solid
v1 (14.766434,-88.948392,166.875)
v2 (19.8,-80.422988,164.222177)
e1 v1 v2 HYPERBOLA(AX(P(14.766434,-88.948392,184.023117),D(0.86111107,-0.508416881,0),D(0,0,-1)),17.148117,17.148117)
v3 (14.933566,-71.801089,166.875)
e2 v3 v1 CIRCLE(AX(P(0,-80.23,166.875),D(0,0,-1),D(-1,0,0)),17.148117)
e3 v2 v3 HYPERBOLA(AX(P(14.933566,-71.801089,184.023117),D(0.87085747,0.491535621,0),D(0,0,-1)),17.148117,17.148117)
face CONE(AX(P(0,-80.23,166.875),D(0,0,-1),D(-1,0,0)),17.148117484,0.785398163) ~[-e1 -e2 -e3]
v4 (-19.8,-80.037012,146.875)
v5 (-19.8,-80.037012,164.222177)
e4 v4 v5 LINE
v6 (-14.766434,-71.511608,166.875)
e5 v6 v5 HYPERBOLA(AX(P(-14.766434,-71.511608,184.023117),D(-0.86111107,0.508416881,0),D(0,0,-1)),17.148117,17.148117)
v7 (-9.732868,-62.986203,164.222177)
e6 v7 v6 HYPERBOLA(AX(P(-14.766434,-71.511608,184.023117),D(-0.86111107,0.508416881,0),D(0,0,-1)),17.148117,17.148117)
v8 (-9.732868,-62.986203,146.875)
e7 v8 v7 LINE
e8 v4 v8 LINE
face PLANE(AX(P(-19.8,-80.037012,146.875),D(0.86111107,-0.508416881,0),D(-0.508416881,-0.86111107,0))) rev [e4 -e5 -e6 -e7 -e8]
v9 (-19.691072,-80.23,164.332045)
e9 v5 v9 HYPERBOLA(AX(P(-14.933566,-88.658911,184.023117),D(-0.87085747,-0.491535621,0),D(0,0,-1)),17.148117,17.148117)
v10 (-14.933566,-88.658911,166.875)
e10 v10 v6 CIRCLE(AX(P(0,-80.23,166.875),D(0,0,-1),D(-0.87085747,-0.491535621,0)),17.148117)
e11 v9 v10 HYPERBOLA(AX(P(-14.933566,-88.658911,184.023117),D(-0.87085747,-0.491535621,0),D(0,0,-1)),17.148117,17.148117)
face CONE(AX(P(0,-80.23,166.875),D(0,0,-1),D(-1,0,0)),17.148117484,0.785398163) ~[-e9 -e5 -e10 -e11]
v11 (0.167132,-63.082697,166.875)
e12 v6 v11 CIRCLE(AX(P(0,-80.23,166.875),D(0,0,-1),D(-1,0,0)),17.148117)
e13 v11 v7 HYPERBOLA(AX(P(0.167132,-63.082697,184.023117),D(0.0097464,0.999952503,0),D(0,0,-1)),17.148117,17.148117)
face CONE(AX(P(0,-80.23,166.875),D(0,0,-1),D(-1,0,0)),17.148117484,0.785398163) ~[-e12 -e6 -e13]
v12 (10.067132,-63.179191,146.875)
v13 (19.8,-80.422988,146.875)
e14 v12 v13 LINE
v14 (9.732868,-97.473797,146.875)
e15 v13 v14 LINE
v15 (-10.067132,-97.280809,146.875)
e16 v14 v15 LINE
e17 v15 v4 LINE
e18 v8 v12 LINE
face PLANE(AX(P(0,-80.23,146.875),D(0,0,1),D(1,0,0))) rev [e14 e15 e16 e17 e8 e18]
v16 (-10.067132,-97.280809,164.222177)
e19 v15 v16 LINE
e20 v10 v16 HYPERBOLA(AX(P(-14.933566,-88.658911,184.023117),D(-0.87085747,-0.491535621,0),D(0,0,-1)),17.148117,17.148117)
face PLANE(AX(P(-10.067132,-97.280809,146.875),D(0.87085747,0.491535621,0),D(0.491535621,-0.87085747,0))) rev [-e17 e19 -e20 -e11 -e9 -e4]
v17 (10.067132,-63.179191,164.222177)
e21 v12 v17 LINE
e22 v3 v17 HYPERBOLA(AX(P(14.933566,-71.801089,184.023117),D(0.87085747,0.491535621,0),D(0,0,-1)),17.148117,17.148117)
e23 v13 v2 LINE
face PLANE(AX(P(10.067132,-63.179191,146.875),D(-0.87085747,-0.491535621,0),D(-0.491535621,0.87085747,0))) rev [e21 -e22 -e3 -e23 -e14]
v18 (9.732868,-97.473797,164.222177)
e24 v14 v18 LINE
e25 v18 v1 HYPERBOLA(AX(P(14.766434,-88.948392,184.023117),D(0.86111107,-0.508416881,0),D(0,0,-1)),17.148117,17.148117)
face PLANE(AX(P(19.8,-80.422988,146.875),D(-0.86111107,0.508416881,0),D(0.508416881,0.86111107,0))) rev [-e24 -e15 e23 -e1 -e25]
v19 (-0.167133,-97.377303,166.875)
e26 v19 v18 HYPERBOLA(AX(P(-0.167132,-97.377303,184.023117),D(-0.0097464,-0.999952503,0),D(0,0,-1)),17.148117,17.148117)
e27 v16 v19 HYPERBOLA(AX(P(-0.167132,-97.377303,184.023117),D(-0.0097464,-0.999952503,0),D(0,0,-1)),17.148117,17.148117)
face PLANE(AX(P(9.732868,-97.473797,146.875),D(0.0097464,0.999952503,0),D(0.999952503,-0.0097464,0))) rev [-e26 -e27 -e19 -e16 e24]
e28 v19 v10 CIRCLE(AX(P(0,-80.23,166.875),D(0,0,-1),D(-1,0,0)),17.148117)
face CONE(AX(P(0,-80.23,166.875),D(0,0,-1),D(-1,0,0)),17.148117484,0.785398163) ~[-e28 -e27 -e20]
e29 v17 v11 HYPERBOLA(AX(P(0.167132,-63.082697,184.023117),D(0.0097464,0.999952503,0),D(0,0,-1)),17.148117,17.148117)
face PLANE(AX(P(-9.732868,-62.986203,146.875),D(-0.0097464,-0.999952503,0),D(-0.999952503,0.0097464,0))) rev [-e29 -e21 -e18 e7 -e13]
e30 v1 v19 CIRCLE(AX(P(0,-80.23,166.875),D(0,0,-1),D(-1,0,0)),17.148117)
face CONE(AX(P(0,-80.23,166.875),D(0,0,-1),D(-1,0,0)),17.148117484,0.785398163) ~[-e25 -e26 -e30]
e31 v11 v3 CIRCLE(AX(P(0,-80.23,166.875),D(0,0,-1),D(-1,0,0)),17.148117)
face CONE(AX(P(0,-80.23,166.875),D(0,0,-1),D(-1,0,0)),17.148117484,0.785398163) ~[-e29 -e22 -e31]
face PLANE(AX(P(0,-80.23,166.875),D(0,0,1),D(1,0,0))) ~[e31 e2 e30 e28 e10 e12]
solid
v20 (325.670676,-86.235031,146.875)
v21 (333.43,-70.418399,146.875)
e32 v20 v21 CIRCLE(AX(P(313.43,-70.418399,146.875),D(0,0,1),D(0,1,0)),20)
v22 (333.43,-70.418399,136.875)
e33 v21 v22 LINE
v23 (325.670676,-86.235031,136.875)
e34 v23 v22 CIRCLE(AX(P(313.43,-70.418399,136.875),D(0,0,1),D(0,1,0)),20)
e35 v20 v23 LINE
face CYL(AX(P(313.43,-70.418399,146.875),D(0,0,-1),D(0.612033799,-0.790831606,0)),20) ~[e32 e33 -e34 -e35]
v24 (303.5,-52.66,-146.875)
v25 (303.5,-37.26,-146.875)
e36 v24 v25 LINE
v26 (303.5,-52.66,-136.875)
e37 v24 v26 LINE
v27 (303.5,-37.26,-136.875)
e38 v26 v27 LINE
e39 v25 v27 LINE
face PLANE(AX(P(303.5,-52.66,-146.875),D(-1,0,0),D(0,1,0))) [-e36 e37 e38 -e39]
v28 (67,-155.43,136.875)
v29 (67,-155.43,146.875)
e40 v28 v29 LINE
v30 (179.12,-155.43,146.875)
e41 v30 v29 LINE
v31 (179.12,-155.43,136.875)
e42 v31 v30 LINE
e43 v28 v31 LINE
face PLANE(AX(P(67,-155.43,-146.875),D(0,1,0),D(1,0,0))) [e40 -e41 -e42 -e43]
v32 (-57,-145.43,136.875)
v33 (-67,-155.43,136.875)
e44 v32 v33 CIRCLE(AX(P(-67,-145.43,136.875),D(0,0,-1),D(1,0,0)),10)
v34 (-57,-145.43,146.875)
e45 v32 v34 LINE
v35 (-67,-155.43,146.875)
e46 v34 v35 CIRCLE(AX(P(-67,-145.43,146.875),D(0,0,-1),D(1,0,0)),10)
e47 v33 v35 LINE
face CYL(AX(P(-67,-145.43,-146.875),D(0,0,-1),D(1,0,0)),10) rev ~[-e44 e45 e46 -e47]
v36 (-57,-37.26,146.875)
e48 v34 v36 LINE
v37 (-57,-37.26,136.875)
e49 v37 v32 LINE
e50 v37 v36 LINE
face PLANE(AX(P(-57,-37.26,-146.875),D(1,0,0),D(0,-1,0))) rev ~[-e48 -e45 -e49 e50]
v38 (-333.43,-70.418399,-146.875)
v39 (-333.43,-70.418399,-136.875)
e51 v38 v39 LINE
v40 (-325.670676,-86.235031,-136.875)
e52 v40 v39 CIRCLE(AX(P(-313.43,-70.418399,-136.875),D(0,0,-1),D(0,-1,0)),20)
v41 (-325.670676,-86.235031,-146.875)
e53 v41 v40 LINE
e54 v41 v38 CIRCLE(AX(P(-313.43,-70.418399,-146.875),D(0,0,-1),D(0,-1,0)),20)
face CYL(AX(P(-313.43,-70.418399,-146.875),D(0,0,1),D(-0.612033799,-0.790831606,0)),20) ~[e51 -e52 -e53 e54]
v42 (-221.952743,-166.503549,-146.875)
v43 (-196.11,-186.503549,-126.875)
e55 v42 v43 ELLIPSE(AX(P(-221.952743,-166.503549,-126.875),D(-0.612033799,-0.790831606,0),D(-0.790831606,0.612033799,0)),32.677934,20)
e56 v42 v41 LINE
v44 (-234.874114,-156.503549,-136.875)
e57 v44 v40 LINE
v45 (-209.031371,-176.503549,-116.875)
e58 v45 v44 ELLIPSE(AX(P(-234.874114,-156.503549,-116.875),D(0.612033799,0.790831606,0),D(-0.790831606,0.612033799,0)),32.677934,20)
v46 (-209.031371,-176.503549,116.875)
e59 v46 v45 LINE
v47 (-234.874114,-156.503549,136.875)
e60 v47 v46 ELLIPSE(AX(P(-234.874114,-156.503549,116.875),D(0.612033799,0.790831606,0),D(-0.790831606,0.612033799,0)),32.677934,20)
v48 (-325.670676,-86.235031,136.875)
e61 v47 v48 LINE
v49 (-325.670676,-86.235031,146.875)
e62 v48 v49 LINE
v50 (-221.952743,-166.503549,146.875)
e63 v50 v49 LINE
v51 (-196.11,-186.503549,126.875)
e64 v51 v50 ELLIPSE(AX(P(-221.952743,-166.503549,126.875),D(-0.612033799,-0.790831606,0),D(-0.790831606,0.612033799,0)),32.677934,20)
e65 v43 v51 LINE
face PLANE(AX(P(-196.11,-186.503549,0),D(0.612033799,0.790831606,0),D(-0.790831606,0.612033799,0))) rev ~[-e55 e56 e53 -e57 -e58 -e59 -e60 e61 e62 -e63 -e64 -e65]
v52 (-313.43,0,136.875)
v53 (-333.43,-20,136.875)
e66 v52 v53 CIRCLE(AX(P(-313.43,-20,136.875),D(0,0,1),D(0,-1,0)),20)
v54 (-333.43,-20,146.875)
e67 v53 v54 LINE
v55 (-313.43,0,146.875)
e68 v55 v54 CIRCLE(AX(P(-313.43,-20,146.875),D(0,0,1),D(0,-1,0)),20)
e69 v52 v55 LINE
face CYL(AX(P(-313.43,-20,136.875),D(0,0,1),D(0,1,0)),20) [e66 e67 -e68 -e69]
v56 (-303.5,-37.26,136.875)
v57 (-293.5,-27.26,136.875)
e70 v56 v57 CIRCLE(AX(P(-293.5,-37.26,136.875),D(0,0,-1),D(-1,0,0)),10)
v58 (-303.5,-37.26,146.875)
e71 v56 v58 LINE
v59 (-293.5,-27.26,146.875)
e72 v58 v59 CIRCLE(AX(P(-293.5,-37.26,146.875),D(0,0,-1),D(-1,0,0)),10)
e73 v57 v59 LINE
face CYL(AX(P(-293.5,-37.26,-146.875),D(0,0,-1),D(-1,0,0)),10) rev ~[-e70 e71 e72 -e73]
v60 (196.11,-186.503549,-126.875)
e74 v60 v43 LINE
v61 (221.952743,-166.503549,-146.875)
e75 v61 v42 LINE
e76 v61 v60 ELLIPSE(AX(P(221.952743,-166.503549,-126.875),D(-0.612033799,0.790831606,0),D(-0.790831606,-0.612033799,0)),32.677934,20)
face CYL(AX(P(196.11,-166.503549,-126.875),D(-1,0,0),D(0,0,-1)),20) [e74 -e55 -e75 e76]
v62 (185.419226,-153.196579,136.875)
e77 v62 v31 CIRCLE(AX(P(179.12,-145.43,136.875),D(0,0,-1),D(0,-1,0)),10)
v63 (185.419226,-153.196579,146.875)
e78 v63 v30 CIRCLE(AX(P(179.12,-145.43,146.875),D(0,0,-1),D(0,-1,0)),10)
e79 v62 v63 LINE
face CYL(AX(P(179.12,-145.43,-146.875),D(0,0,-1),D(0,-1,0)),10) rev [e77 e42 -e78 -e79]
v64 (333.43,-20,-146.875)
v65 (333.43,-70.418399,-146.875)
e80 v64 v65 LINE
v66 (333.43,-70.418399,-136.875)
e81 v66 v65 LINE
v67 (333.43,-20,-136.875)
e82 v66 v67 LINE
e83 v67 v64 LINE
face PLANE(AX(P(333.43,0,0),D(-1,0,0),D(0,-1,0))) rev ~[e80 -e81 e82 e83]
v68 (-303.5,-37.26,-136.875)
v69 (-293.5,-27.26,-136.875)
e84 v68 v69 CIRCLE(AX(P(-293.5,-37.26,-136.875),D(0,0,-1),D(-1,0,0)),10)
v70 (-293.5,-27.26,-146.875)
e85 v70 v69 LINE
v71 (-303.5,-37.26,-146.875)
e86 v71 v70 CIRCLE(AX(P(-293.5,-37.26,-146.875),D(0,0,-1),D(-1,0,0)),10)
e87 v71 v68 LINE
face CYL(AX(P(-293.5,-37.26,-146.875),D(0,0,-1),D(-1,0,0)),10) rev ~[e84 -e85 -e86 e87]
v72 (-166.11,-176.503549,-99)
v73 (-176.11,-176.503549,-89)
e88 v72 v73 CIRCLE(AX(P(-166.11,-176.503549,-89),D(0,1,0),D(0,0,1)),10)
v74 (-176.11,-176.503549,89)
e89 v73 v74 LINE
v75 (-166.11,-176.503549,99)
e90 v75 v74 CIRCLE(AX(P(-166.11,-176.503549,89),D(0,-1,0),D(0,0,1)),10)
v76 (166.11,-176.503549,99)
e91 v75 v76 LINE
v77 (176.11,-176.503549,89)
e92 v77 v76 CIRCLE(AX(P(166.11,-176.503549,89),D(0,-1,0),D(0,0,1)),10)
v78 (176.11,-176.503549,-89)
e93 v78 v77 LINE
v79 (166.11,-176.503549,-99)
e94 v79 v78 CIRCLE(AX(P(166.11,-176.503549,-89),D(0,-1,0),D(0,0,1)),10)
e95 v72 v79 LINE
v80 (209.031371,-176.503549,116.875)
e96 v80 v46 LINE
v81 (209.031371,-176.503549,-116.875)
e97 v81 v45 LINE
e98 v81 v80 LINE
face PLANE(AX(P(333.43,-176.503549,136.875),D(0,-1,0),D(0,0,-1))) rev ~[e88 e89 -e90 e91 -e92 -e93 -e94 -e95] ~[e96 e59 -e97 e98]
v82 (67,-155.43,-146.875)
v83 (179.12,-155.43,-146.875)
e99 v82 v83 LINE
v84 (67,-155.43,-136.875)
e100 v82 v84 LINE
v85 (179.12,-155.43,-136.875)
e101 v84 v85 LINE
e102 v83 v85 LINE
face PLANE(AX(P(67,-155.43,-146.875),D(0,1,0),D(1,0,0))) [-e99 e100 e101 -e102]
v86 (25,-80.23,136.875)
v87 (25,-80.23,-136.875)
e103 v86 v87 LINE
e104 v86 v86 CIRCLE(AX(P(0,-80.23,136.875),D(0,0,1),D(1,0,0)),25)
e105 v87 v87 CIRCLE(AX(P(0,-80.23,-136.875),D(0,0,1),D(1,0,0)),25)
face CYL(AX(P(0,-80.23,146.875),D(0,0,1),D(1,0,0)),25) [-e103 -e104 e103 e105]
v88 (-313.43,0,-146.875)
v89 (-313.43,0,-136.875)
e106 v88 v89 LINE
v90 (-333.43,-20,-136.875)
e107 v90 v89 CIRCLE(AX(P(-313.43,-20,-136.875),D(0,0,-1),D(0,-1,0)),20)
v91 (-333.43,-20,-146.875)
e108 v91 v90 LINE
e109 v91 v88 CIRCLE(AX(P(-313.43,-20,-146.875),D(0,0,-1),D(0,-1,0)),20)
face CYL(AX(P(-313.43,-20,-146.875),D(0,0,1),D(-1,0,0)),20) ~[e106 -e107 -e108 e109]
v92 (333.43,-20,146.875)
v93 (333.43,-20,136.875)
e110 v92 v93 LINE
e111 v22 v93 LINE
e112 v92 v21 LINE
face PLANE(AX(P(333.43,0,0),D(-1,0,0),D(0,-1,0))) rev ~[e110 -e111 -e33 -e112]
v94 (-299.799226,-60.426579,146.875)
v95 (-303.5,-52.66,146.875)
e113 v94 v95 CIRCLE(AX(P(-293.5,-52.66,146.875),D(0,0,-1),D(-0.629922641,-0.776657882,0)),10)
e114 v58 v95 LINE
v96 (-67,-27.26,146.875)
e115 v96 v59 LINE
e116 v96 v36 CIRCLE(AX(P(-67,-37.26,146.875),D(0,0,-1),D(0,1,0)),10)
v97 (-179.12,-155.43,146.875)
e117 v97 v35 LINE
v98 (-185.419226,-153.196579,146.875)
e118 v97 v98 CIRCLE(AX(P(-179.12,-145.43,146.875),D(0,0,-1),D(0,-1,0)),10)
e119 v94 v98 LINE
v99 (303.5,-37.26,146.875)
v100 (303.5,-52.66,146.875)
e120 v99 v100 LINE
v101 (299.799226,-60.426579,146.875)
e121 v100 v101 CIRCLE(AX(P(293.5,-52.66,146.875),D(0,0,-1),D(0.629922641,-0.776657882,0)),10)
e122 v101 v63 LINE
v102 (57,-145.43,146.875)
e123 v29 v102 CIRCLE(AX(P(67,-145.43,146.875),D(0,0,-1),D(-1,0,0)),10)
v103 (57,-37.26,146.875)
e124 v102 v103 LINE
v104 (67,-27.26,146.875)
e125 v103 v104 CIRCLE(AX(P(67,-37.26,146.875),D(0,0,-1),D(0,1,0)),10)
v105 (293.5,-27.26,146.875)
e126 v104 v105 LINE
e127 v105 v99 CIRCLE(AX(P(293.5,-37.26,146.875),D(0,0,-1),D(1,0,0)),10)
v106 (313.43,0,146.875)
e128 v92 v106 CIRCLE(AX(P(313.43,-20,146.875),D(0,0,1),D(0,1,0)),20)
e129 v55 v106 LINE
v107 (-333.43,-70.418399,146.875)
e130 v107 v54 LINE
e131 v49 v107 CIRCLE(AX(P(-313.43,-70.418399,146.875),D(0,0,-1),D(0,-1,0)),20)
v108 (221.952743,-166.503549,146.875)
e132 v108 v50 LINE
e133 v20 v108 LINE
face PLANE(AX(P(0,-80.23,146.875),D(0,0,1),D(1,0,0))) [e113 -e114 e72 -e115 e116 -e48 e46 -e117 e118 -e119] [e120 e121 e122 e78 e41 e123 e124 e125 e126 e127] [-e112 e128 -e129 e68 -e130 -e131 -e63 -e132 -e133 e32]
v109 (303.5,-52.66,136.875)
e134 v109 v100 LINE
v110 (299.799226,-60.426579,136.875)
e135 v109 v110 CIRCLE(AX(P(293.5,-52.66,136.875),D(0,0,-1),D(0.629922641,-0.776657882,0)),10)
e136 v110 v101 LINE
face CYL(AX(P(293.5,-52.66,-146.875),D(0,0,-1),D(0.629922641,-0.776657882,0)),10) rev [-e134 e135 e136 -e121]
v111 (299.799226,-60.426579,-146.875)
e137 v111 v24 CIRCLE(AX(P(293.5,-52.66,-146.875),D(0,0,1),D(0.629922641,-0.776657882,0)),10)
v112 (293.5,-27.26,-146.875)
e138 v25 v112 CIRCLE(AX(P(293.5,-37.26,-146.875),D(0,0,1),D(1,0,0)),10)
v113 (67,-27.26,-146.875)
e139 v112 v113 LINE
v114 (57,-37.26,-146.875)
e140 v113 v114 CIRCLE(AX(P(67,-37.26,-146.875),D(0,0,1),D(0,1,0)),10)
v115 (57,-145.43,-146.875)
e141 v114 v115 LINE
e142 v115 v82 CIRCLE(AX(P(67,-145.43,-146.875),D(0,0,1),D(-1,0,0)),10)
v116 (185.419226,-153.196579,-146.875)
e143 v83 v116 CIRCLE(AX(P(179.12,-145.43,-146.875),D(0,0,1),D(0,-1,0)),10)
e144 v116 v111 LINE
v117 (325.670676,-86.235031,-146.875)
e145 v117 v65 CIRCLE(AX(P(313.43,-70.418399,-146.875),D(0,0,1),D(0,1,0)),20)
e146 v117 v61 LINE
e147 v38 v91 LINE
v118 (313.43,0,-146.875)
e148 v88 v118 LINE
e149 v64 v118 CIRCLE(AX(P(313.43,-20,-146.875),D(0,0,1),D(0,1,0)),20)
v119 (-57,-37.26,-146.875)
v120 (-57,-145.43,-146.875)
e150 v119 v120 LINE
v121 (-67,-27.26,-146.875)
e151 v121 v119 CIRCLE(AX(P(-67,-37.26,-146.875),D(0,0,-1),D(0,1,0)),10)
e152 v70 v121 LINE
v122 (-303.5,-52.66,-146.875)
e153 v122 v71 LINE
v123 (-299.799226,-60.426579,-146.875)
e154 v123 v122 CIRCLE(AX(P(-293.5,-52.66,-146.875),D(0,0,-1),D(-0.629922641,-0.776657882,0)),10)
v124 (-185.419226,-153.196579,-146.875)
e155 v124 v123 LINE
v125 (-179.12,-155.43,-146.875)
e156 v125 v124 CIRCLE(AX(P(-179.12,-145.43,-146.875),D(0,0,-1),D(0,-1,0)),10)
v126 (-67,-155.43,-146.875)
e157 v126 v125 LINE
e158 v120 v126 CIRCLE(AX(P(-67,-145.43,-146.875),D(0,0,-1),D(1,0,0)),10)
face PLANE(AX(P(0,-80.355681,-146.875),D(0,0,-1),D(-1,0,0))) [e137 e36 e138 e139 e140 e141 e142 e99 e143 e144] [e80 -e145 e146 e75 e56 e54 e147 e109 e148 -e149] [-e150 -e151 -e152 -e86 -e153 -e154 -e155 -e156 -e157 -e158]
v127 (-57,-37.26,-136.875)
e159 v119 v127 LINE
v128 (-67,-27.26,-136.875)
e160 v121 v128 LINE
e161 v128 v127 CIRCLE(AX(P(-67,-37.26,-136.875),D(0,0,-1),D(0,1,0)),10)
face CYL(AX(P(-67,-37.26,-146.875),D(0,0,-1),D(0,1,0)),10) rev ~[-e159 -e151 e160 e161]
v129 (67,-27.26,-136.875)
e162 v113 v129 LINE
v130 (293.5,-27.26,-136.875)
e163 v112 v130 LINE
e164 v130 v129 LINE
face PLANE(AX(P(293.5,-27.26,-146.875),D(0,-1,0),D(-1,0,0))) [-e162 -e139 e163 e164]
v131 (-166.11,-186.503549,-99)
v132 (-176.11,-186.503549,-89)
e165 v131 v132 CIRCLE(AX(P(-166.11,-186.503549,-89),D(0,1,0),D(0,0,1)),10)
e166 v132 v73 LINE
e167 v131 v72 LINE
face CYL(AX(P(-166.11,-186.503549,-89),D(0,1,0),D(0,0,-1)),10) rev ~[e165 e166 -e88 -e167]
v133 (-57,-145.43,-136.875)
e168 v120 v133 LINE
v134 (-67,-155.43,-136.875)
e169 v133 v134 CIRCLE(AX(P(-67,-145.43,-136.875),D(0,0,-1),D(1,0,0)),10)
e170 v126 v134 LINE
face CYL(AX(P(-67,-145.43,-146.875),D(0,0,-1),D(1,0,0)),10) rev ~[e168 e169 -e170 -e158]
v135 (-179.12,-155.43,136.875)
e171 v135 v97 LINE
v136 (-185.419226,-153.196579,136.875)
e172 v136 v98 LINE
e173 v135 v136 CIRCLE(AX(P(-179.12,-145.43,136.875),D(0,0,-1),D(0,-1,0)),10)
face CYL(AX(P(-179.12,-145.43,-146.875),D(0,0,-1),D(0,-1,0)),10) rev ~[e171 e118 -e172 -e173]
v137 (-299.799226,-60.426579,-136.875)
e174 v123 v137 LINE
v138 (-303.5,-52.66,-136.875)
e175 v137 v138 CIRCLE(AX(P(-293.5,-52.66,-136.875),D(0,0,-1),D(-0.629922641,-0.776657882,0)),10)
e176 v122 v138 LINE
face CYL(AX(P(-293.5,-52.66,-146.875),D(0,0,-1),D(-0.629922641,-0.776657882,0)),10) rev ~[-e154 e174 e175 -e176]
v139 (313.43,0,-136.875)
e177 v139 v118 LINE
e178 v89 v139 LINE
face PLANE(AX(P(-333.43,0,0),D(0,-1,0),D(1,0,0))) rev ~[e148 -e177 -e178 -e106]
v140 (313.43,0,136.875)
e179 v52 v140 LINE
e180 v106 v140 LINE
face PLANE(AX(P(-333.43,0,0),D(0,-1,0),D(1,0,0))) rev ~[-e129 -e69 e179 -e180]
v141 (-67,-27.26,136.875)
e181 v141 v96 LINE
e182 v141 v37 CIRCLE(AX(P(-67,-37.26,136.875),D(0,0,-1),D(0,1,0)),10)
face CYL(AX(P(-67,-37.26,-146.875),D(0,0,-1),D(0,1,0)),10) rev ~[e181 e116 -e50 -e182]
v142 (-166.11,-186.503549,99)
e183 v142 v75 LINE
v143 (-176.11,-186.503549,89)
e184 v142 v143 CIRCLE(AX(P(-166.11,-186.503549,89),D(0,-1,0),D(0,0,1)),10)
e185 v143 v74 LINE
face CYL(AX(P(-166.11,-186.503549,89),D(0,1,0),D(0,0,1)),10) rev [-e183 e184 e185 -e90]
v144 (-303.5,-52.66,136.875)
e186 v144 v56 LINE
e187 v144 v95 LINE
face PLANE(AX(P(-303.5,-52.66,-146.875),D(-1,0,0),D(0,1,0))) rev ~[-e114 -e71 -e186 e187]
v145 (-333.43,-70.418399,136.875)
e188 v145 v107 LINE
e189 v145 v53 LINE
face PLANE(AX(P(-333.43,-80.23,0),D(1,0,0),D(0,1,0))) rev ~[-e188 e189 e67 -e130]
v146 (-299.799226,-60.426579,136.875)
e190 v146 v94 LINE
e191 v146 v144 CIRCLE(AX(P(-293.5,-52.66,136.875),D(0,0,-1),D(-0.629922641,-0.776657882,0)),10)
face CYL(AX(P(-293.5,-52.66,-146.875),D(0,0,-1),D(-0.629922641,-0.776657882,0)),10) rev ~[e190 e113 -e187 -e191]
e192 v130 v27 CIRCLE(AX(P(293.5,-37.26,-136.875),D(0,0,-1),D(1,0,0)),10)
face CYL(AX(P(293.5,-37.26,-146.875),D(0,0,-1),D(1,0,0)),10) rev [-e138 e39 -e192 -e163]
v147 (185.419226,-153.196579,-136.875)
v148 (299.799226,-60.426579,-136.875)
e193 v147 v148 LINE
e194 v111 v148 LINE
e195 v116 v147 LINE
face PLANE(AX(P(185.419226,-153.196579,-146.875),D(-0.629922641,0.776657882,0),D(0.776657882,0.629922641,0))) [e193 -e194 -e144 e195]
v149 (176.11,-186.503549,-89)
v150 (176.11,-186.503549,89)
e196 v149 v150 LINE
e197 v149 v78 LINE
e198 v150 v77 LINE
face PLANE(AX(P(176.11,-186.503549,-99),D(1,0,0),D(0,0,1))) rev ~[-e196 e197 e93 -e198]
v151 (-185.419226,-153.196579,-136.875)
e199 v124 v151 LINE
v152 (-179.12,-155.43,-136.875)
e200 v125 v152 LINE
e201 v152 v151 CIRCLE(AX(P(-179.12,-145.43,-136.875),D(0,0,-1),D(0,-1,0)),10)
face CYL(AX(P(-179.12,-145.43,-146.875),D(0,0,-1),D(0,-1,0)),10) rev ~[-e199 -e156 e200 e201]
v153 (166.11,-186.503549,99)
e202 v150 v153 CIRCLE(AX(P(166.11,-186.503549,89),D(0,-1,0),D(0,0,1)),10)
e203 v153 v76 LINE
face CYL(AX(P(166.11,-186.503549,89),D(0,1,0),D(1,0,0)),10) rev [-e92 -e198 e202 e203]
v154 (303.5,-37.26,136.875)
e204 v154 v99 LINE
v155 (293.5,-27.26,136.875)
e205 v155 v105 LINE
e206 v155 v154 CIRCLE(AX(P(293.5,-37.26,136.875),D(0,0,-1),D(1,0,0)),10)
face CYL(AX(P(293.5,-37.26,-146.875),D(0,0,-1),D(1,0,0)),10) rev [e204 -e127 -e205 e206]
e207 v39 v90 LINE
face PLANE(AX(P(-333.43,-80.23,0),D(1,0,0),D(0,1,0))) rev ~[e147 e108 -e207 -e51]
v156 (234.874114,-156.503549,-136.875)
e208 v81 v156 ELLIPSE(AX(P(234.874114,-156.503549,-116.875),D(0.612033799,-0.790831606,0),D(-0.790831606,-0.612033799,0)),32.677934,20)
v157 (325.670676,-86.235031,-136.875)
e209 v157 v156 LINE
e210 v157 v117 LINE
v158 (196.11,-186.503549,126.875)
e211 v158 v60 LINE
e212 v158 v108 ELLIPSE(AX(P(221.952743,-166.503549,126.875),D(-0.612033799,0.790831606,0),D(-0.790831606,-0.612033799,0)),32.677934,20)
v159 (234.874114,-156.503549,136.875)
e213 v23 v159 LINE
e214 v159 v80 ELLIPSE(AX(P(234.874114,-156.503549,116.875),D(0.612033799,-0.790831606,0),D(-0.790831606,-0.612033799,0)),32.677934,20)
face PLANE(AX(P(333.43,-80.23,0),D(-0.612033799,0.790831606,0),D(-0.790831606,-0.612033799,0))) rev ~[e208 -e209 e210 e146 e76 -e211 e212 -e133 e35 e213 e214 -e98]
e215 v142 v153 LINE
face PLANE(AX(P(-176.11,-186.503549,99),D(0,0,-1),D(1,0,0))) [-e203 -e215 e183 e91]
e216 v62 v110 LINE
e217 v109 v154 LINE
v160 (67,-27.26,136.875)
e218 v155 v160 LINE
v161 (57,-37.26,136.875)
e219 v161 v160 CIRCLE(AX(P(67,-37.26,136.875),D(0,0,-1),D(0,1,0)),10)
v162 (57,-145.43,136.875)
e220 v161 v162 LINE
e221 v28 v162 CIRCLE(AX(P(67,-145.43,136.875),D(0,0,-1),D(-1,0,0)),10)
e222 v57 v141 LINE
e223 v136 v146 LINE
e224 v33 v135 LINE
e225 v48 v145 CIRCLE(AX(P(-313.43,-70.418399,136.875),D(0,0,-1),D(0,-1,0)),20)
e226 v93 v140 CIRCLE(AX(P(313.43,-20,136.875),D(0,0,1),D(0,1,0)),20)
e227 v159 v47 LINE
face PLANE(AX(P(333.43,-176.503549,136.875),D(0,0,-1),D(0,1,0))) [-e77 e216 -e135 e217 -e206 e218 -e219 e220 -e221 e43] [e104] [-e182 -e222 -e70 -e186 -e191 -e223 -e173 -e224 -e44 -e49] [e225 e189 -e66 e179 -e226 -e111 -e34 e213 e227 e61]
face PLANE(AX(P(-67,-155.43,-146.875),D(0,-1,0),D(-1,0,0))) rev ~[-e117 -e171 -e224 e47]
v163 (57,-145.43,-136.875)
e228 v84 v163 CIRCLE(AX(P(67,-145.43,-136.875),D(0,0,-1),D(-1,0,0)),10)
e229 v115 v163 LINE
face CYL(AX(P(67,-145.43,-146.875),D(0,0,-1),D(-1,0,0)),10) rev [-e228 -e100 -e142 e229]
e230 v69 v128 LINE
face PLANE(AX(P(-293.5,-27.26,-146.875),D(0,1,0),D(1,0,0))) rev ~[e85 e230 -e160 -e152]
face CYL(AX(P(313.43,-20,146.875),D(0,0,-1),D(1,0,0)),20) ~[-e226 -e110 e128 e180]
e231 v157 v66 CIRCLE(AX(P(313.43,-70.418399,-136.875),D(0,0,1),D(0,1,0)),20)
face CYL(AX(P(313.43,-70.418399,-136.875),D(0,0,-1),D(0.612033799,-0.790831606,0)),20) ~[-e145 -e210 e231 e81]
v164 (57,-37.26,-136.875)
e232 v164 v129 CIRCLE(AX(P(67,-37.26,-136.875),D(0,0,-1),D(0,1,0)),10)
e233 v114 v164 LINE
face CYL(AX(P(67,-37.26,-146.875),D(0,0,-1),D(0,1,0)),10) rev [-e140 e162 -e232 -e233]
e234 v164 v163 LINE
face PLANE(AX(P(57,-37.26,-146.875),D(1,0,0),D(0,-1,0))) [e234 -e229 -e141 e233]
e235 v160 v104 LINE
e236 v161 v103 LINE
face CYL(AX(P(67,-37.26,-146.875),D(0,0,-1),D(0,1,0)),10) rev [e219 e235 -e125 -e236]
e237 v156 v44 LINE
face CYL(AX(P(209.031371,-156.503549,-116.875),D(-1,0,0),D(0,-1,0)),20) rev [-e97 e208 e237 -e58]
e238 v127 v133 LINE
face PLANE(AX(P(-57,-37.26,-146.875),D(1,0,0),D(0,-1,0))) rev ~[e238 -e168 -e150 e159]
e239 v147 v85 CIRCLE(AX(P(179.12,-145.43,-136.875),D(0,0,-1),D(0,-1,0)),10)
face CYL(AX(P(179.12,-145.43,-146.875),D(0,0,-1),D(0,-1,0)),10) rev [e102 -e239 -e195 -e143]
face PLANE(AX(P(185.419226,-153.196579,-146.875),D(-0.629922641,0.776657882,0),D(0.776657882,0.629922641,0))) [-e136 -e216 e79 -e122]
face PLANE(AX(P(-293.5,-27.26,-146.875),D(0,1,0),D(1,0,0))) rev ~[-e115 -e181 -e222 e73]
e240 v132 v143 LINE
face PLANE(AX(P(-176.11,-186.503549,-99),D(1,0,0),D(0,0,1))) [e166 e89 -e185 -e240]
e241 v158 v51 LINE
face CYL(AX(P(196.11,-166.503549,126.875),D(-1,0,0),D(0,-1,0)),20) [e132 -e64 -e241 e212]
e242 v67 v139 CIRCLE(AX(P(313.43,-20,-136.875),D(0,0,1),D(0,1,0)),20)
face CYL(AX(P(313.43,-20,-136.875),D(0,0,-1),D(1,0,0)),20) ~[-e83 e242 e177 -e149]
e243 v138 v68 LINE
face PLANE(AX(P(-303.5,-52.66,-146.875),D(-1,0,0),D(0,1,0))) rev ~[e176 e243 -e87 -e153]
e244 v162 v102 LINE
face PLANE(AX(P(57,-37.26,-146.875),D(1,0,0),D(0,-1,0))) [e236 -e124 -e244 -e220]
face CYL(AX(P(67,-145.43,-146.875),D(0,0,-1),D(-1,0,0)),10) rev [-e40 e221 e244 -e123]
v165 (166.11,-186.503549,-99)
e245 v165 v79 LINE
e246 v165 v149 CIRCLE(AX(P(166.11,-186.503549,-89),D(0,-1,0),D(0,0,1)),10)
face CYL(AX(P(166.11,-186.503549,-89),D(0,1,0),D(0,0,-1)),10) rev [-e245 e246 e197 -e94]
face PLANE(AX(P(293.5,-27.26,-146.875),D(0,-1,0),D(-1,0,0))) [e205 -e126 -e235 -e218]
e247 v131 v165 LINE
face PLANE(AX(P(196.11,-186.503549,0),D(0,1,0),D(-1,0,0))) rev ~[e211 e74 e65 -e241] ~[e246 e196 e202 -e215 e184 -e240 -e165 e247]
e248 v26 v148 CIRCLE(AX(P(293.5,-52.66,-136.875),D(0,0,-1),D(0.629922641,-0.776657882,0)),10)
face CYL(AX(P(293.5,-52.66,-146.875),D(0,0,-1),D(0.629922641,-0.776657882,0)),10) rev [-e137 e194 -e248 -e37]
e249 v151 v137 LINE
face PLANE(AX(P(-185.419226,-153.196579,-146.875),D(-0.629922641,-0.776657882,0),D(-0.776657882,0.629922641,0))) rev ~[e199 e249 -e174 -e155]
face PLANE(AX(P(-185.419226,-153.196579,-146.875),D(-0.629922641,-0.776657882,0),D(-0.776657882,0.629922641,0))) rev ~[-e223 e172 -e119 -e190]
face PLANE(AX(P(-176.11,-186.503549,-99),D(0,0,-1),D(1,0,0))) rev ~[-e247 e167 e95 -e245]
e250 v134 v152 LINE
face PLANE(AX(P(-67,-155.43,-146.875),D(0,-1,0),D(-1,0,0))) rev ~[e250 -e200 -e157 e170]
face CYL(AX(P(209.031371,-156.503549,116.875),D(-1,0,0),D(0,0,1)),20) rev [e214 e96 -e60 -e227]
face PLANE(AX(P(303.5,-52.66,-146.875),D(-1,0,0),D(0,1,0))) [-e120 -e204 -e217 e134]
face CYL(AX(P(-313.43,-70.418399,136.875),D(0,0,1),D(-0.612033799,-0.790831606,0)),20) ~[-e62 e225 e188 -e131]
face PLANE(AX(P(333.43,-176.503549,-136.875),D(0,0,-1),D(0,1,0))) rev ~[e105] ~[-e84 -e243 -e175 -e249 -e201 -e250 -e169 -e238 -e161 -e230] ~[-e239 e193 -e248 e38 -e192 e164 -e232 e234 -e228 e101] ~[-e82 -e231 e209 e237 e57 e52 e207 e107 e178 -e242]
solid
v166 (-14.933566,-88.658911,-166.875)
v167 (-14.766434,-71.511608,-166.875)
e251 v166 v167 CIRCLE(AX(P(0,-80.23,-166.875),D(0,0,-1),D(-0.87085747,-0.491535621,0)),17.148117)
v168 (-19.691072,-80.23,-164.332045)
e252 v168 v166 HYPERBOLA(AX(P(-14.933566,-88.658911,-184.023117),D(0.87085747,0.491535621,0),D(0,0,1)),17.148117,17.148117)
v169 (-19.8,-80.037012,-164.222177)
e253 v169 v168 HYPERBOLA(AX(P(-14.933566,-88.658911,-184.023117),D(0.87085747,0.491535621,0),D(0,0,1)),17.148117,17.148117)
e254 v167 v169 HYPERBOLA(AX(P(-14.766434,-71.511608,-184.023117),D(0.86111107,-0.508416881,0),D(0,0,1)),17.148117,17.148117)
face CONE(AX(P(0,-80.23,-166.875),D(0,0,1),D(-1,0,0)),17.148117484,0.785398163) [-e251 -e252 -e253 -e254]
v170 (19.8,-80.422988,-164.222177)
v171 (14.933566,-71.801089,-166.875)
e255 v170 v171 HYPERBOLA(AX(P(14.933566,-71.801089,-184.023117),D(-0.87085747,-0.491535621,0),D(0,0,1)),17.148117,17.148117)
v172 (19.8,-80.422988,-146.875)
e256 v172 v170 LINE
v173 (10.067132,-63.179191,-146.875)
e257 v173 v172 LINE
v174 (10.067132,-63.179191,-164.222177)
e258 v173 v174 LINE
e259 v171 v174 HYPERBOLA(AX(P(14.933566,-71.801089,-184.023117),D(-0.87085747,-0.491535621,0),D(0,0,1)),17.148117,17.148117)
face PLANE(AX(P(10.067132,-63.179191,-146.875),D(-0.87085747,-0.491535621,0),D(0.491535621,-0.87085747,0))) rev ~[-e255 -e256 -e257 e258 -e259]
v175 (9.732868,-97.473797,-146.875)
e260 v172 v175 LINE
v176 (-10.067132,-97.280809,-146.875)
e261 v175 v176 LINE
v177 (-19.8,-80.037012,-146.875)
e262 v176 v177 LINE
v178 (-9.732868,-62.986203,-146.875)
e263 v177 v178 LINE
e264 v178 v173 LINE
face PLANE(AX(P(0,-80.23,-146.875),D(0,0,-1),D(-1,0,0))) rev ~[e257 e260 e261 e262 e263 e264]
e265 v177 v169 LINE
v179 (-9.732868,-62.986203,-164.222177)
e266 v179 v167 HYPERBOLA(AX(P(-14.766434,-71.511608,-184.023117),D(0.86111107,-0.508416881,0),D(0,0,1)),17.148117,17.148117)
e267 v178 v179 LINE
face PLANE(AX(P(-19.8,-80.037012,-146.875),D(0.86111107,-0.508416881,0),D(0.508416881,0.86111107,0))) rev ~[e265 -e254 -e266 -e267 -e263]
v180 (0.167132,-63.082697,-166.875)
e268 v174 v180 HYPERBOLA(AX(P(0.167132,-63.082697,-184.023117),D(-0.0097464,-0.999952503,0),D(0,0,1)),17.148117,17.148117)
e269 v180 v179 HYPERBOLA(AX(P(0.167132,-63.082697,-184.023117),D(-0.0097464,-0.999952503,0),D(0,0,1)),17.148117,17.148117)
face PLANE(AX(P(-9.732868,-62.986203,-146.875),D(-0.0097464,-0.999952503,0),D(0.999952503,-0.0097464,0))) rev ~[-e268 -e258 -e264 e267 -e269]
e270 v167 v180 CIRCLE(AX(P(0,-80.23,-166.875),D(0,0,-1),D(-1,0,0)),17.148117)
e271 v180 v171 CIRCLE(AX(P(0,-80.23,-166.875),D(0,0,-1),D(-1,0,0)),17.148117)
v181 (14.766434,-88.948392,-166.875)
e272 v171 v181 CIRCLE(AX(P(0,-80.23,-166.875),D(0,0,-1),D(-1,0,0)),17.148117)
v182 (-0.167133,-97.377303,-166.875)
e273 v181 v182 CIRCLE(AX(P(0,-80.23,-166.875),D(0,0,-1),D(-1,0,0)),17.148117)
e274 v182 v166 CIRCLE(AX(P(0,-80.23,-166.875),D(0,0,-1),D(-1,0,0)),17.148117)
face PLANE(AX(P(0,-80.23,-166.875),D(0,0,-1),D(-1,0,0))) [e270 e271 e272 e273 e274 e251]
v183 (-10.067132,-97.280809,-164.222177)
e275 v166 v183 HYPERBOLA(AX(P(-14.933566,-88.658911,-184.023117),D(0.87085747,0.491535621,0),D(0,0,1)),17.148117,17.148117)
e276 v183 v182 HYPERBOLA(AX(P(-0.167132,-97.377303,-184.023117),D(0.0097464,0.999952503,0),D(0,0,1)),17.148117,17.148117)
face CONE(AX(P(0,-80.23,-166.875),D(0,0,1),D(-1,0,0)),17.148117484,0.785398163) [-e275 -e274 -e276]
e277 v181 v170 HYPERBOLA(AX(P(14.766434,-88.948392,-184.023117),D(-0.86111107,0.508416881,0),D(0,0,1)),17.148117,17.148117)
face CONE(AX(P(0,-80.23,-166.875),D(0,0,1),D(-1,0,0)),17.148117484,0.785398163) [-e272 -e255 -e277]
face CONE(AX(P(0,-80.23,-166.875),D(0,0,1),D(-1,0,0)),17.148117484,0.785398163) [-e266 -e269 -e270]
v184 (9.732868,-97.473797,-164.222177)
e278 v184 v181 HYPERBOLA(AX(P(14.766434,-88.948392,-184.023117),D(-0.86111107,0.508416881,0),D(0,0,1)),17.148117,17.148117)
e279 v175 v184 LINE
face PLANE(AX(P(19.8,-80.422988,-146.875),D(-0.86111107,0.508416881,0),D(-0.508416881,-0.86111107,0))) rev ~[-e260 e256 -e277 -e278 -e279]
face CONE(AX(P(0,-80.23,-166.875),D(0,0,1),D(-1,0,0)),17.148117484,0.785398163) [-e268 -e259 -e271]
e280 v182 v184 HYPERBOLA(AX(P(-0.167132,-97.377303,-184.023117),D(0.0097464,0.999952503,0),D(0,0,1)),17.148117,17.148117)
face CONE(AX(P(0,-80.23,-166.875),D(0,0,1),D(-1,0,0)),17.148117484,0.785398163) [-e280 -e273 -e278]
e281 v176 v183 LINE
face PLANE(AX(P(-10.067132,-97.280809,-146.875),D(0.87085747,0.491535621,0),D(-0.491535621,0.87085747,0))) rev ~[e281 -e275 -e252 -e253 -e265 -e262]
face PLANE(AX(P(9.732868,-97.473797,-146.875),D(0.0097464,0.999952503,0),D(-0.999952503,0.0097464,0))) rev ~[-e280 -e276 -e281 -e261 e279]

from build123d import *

# Parameters (mm, degrees)
BOSS_EXTRUDE1_DEPTH = 146.875
SKETCH2_W           = 273.75
SKETCH2_H           = 192.54709784
CUT_EXTRUDE1_DEPTH  = 708.854574743
FILLET1_R           = 20
FILLET2_R           = 20
SKETCH3_R           = 25
BOSS_EXTRUDE2_DEPTH = 283.75
BOSS_EXTRUDE3_DEPTH = 20
SKETCH5_R           = 27.786582849
SKETCH5_R_2         = 17.148117484
CUT_EXTRUDE3_DEPTH  = 20
CUT_EXTRUDE3_TAPER  = 45
CUT_EXTRUDE4_DEPTH  = 495.366464437
SKETCH8_W           = 352.22
SKETCH8_H           = 198
CUT_EXTRUDE5_DEPTH  = 20
FILLET3_R           = 20
FILLET4_R           = 10


with BuildPart() as part:
    # Sketch1 → Boss-Extrude1 (new, symmetric)
    with BuildSketch(Plane.XY):
        Polygon((-333.43, 0), (333.43, 0), (333.43, -80.23), (196.11, -186.50354892), (-196.11, -186.50354892), (-333.43, -80.23), align=None)
    extrude(amount=BOSS_EXTRUDE1_DEPTH, both=True)

    # Sketch2 → Cut-Extrude1 (cut, through all)
    with BuildSketch(Plane(origin=(333.43, 0, 0), x_dir=(0, 0, -1), z_dir=(1, 0, 0))):
        with Locations((0, -80.23)):
            Rectangle(SKETCH2_W, SKETCH2_H)
    extrude(amount=-CUT_EXTRUDE1_DEPTH, mode=Mode.SUBTRACT)

    # Fillet1
    fillet1_edges = [part.edges().sort_by_distance(p)[0] for p in [
        (0, -186.50354892, 146.875),
        (0, -186.50354892, -146.875),
    ]]
    fillet(fillet1_edges, radius=FILLET1_R)

    # Fillet2
    fillet2_edges = [part.edges().sort_by_distance(p)[0] for p in [
        (0, -176.50354892, -136.875),
        (0, -176.50354892, 136.875),
    ]]
    fillet(fillet2_edges, radius=FILLET2_R)

    # Sketch3 → Boss-Extrude2 (add)
    with BuildSketch(Plane.XY.offset(146.875)):
        with Locations((0, -80.23)):
            Circle(SKETCH3_R)
    extrude(amount=-BOSS_EXTRUDE2_DEPTH)

    # Sketch6 → Cut-Extrude4 (cut, through all)
    with BuildSketch(Plane(origin=(0, 0, -146.875), x_dir=(-1, 0, 0), z_dir=(0, 0, -1))):
        with BuildLine():
            Line((-303.5, -52.66), (-303.5, -37.26))
            ThreePointArc((-303.5, -37.26), (-300.571067812, -30.188932188), (-293.5, -27.26))
            Line((-293.5, -27.26), (-67, -27.26))
            ThreePointArc((-67, -27.26), (-59.928932188, -30.188932188), (-57, -37.26))
            Line((-57, -37.26), (-57, -145.43))
            ThreePointArc((-57, -145.43), (-59.928932188, -152.501067812), (-67, -155.43))
            Line((-67, -155.43), (-179.12, -155.43))
            ThreePointArc((-179.12, -155.43), (-182.461721995, -154.855120376), (-185.419226414, -153.196578821))
            Line((-185.419226414, -153.196578821), (-299.799226414, -60.426578821))
            ThreePointArc((-299.799226414, -60.426578821), (-302.527520815, -56.961612248), (-303.5, -52.66))
        make_face()
        with BuildLine():
            Line((67, -155.43), (179.12, -155.43))
            ThreePointArc((179.12, -155.43), (182.461721995, -154.855120376), (185.419226414, -153.196578821))
            Line((185.419226414, -153.196578821), (299.799226414, -60.426578821))
            ThreePointArc((299.799226414, -60.426578821), (302.527520815, -56.961612248), (303.5, -52.66))
            Line((303.5, -52.66), (303.5, -37.26))
            ThreePointArc((303.5, -37.26), (300.571067812, -30.188932188), (293.5, -27.26))
            Line((293.5, -27.26), (67, -27.26))
            ThreePointArc((67, -27.26), (59.928932188, -30.188932188), (57, -37.26))
            Line((57, -37.26), (57, -145.43))
            ThreePointArc((57, -145.43), (59.928932188, -152.501067812), (67, -155.43))
        make_face()
    extrude(amount=-CUT_EXTRUDE4_DEPTH, mode=Mode.SUBTRACT)

    # Sketch8 → Cut-Extrude5 (cut)
    with BuildSketch(Plane.XZ.offset(186.50354892)):
        Rectangle(SKETCH8_W, SKETCH8_H)
    extrude(amount=-CUT_EXTRUDE5_DEPTH, mode=Mode.SUBTRACT)

    # Fillet3
    fillet3_edges = [part.edges().sort_by_distance(p)[0] for p in [
        (333.43, -80.23, 141.875),
        (-333.43, -80.23, 141.875),
        (-333.43, 0, 141.875),
        (333.43, 0, 141.875),
        (333.43, -80.23, -141.875),
        (-333.43, -80.23, -141.875),
        (-333.43, 0, -141.875),
        (333.43, 0, -141.875),
    ]]
    fillet(fillet3_edges, radius=FILLET3_R)

    # Fillet4
    fillet4_edges = [part.edges().sort_by_distance(p)[0] for p in [
        (176.11, -181.50354892, 99),
        (176.11, -181.50354892, -99),
        (-176.11, -181.50354892, -99),
        (-176.11, -181.50354892, 99),
    ]]
    fillet(fillet4_edges, radius=FILLET4_R)


with BuildPart() as body_2:
    # Sketch4 → Boss-Extrude3 (new body)
    with BuildSketch(Plane(origin=(0, 0, -146.875), x_dir=(-1, 0, 0), z_dir=(0, 0, -1))):
        Polygon((9.732867587, -62.986203061), (-10.067132413, -63.179190949), (-19.8, -80.422987887), (-9.732867587, -97.473796939), (10.067132413, -97.280809051), (19.8, -80.037012113), align=None)
    extrude(amount=BOSS_EXTRUDE3_DEPTH)

    # Sketch5 → Cut-Extrude3 (cut)
    with BuildSketch(Plane(origin=(0, 0, -166.875), x_dir=(-1, 0, 0), z_dir=(0, 0, -1))):
        with Locations((0, -80.23)):
            Circle(SKETCH5_R)
        with Locations((0, -80.23)):
            Circle(SKETCH5_R_2, mode=Mode.SUBTRACT)
    extrude(amount=-CUT_EXTRUDE3_DEPTH, taper=CUT_EXTRUDE3_TAPER, mode=Mode.SUBTRACT)


with BuildPart() as body_3:
    # Mirror1: mirrored copy
    add(body_2.part.mirror(Plane.XY))


solid = Compound([part.part, body_2.part, body_3.part])
